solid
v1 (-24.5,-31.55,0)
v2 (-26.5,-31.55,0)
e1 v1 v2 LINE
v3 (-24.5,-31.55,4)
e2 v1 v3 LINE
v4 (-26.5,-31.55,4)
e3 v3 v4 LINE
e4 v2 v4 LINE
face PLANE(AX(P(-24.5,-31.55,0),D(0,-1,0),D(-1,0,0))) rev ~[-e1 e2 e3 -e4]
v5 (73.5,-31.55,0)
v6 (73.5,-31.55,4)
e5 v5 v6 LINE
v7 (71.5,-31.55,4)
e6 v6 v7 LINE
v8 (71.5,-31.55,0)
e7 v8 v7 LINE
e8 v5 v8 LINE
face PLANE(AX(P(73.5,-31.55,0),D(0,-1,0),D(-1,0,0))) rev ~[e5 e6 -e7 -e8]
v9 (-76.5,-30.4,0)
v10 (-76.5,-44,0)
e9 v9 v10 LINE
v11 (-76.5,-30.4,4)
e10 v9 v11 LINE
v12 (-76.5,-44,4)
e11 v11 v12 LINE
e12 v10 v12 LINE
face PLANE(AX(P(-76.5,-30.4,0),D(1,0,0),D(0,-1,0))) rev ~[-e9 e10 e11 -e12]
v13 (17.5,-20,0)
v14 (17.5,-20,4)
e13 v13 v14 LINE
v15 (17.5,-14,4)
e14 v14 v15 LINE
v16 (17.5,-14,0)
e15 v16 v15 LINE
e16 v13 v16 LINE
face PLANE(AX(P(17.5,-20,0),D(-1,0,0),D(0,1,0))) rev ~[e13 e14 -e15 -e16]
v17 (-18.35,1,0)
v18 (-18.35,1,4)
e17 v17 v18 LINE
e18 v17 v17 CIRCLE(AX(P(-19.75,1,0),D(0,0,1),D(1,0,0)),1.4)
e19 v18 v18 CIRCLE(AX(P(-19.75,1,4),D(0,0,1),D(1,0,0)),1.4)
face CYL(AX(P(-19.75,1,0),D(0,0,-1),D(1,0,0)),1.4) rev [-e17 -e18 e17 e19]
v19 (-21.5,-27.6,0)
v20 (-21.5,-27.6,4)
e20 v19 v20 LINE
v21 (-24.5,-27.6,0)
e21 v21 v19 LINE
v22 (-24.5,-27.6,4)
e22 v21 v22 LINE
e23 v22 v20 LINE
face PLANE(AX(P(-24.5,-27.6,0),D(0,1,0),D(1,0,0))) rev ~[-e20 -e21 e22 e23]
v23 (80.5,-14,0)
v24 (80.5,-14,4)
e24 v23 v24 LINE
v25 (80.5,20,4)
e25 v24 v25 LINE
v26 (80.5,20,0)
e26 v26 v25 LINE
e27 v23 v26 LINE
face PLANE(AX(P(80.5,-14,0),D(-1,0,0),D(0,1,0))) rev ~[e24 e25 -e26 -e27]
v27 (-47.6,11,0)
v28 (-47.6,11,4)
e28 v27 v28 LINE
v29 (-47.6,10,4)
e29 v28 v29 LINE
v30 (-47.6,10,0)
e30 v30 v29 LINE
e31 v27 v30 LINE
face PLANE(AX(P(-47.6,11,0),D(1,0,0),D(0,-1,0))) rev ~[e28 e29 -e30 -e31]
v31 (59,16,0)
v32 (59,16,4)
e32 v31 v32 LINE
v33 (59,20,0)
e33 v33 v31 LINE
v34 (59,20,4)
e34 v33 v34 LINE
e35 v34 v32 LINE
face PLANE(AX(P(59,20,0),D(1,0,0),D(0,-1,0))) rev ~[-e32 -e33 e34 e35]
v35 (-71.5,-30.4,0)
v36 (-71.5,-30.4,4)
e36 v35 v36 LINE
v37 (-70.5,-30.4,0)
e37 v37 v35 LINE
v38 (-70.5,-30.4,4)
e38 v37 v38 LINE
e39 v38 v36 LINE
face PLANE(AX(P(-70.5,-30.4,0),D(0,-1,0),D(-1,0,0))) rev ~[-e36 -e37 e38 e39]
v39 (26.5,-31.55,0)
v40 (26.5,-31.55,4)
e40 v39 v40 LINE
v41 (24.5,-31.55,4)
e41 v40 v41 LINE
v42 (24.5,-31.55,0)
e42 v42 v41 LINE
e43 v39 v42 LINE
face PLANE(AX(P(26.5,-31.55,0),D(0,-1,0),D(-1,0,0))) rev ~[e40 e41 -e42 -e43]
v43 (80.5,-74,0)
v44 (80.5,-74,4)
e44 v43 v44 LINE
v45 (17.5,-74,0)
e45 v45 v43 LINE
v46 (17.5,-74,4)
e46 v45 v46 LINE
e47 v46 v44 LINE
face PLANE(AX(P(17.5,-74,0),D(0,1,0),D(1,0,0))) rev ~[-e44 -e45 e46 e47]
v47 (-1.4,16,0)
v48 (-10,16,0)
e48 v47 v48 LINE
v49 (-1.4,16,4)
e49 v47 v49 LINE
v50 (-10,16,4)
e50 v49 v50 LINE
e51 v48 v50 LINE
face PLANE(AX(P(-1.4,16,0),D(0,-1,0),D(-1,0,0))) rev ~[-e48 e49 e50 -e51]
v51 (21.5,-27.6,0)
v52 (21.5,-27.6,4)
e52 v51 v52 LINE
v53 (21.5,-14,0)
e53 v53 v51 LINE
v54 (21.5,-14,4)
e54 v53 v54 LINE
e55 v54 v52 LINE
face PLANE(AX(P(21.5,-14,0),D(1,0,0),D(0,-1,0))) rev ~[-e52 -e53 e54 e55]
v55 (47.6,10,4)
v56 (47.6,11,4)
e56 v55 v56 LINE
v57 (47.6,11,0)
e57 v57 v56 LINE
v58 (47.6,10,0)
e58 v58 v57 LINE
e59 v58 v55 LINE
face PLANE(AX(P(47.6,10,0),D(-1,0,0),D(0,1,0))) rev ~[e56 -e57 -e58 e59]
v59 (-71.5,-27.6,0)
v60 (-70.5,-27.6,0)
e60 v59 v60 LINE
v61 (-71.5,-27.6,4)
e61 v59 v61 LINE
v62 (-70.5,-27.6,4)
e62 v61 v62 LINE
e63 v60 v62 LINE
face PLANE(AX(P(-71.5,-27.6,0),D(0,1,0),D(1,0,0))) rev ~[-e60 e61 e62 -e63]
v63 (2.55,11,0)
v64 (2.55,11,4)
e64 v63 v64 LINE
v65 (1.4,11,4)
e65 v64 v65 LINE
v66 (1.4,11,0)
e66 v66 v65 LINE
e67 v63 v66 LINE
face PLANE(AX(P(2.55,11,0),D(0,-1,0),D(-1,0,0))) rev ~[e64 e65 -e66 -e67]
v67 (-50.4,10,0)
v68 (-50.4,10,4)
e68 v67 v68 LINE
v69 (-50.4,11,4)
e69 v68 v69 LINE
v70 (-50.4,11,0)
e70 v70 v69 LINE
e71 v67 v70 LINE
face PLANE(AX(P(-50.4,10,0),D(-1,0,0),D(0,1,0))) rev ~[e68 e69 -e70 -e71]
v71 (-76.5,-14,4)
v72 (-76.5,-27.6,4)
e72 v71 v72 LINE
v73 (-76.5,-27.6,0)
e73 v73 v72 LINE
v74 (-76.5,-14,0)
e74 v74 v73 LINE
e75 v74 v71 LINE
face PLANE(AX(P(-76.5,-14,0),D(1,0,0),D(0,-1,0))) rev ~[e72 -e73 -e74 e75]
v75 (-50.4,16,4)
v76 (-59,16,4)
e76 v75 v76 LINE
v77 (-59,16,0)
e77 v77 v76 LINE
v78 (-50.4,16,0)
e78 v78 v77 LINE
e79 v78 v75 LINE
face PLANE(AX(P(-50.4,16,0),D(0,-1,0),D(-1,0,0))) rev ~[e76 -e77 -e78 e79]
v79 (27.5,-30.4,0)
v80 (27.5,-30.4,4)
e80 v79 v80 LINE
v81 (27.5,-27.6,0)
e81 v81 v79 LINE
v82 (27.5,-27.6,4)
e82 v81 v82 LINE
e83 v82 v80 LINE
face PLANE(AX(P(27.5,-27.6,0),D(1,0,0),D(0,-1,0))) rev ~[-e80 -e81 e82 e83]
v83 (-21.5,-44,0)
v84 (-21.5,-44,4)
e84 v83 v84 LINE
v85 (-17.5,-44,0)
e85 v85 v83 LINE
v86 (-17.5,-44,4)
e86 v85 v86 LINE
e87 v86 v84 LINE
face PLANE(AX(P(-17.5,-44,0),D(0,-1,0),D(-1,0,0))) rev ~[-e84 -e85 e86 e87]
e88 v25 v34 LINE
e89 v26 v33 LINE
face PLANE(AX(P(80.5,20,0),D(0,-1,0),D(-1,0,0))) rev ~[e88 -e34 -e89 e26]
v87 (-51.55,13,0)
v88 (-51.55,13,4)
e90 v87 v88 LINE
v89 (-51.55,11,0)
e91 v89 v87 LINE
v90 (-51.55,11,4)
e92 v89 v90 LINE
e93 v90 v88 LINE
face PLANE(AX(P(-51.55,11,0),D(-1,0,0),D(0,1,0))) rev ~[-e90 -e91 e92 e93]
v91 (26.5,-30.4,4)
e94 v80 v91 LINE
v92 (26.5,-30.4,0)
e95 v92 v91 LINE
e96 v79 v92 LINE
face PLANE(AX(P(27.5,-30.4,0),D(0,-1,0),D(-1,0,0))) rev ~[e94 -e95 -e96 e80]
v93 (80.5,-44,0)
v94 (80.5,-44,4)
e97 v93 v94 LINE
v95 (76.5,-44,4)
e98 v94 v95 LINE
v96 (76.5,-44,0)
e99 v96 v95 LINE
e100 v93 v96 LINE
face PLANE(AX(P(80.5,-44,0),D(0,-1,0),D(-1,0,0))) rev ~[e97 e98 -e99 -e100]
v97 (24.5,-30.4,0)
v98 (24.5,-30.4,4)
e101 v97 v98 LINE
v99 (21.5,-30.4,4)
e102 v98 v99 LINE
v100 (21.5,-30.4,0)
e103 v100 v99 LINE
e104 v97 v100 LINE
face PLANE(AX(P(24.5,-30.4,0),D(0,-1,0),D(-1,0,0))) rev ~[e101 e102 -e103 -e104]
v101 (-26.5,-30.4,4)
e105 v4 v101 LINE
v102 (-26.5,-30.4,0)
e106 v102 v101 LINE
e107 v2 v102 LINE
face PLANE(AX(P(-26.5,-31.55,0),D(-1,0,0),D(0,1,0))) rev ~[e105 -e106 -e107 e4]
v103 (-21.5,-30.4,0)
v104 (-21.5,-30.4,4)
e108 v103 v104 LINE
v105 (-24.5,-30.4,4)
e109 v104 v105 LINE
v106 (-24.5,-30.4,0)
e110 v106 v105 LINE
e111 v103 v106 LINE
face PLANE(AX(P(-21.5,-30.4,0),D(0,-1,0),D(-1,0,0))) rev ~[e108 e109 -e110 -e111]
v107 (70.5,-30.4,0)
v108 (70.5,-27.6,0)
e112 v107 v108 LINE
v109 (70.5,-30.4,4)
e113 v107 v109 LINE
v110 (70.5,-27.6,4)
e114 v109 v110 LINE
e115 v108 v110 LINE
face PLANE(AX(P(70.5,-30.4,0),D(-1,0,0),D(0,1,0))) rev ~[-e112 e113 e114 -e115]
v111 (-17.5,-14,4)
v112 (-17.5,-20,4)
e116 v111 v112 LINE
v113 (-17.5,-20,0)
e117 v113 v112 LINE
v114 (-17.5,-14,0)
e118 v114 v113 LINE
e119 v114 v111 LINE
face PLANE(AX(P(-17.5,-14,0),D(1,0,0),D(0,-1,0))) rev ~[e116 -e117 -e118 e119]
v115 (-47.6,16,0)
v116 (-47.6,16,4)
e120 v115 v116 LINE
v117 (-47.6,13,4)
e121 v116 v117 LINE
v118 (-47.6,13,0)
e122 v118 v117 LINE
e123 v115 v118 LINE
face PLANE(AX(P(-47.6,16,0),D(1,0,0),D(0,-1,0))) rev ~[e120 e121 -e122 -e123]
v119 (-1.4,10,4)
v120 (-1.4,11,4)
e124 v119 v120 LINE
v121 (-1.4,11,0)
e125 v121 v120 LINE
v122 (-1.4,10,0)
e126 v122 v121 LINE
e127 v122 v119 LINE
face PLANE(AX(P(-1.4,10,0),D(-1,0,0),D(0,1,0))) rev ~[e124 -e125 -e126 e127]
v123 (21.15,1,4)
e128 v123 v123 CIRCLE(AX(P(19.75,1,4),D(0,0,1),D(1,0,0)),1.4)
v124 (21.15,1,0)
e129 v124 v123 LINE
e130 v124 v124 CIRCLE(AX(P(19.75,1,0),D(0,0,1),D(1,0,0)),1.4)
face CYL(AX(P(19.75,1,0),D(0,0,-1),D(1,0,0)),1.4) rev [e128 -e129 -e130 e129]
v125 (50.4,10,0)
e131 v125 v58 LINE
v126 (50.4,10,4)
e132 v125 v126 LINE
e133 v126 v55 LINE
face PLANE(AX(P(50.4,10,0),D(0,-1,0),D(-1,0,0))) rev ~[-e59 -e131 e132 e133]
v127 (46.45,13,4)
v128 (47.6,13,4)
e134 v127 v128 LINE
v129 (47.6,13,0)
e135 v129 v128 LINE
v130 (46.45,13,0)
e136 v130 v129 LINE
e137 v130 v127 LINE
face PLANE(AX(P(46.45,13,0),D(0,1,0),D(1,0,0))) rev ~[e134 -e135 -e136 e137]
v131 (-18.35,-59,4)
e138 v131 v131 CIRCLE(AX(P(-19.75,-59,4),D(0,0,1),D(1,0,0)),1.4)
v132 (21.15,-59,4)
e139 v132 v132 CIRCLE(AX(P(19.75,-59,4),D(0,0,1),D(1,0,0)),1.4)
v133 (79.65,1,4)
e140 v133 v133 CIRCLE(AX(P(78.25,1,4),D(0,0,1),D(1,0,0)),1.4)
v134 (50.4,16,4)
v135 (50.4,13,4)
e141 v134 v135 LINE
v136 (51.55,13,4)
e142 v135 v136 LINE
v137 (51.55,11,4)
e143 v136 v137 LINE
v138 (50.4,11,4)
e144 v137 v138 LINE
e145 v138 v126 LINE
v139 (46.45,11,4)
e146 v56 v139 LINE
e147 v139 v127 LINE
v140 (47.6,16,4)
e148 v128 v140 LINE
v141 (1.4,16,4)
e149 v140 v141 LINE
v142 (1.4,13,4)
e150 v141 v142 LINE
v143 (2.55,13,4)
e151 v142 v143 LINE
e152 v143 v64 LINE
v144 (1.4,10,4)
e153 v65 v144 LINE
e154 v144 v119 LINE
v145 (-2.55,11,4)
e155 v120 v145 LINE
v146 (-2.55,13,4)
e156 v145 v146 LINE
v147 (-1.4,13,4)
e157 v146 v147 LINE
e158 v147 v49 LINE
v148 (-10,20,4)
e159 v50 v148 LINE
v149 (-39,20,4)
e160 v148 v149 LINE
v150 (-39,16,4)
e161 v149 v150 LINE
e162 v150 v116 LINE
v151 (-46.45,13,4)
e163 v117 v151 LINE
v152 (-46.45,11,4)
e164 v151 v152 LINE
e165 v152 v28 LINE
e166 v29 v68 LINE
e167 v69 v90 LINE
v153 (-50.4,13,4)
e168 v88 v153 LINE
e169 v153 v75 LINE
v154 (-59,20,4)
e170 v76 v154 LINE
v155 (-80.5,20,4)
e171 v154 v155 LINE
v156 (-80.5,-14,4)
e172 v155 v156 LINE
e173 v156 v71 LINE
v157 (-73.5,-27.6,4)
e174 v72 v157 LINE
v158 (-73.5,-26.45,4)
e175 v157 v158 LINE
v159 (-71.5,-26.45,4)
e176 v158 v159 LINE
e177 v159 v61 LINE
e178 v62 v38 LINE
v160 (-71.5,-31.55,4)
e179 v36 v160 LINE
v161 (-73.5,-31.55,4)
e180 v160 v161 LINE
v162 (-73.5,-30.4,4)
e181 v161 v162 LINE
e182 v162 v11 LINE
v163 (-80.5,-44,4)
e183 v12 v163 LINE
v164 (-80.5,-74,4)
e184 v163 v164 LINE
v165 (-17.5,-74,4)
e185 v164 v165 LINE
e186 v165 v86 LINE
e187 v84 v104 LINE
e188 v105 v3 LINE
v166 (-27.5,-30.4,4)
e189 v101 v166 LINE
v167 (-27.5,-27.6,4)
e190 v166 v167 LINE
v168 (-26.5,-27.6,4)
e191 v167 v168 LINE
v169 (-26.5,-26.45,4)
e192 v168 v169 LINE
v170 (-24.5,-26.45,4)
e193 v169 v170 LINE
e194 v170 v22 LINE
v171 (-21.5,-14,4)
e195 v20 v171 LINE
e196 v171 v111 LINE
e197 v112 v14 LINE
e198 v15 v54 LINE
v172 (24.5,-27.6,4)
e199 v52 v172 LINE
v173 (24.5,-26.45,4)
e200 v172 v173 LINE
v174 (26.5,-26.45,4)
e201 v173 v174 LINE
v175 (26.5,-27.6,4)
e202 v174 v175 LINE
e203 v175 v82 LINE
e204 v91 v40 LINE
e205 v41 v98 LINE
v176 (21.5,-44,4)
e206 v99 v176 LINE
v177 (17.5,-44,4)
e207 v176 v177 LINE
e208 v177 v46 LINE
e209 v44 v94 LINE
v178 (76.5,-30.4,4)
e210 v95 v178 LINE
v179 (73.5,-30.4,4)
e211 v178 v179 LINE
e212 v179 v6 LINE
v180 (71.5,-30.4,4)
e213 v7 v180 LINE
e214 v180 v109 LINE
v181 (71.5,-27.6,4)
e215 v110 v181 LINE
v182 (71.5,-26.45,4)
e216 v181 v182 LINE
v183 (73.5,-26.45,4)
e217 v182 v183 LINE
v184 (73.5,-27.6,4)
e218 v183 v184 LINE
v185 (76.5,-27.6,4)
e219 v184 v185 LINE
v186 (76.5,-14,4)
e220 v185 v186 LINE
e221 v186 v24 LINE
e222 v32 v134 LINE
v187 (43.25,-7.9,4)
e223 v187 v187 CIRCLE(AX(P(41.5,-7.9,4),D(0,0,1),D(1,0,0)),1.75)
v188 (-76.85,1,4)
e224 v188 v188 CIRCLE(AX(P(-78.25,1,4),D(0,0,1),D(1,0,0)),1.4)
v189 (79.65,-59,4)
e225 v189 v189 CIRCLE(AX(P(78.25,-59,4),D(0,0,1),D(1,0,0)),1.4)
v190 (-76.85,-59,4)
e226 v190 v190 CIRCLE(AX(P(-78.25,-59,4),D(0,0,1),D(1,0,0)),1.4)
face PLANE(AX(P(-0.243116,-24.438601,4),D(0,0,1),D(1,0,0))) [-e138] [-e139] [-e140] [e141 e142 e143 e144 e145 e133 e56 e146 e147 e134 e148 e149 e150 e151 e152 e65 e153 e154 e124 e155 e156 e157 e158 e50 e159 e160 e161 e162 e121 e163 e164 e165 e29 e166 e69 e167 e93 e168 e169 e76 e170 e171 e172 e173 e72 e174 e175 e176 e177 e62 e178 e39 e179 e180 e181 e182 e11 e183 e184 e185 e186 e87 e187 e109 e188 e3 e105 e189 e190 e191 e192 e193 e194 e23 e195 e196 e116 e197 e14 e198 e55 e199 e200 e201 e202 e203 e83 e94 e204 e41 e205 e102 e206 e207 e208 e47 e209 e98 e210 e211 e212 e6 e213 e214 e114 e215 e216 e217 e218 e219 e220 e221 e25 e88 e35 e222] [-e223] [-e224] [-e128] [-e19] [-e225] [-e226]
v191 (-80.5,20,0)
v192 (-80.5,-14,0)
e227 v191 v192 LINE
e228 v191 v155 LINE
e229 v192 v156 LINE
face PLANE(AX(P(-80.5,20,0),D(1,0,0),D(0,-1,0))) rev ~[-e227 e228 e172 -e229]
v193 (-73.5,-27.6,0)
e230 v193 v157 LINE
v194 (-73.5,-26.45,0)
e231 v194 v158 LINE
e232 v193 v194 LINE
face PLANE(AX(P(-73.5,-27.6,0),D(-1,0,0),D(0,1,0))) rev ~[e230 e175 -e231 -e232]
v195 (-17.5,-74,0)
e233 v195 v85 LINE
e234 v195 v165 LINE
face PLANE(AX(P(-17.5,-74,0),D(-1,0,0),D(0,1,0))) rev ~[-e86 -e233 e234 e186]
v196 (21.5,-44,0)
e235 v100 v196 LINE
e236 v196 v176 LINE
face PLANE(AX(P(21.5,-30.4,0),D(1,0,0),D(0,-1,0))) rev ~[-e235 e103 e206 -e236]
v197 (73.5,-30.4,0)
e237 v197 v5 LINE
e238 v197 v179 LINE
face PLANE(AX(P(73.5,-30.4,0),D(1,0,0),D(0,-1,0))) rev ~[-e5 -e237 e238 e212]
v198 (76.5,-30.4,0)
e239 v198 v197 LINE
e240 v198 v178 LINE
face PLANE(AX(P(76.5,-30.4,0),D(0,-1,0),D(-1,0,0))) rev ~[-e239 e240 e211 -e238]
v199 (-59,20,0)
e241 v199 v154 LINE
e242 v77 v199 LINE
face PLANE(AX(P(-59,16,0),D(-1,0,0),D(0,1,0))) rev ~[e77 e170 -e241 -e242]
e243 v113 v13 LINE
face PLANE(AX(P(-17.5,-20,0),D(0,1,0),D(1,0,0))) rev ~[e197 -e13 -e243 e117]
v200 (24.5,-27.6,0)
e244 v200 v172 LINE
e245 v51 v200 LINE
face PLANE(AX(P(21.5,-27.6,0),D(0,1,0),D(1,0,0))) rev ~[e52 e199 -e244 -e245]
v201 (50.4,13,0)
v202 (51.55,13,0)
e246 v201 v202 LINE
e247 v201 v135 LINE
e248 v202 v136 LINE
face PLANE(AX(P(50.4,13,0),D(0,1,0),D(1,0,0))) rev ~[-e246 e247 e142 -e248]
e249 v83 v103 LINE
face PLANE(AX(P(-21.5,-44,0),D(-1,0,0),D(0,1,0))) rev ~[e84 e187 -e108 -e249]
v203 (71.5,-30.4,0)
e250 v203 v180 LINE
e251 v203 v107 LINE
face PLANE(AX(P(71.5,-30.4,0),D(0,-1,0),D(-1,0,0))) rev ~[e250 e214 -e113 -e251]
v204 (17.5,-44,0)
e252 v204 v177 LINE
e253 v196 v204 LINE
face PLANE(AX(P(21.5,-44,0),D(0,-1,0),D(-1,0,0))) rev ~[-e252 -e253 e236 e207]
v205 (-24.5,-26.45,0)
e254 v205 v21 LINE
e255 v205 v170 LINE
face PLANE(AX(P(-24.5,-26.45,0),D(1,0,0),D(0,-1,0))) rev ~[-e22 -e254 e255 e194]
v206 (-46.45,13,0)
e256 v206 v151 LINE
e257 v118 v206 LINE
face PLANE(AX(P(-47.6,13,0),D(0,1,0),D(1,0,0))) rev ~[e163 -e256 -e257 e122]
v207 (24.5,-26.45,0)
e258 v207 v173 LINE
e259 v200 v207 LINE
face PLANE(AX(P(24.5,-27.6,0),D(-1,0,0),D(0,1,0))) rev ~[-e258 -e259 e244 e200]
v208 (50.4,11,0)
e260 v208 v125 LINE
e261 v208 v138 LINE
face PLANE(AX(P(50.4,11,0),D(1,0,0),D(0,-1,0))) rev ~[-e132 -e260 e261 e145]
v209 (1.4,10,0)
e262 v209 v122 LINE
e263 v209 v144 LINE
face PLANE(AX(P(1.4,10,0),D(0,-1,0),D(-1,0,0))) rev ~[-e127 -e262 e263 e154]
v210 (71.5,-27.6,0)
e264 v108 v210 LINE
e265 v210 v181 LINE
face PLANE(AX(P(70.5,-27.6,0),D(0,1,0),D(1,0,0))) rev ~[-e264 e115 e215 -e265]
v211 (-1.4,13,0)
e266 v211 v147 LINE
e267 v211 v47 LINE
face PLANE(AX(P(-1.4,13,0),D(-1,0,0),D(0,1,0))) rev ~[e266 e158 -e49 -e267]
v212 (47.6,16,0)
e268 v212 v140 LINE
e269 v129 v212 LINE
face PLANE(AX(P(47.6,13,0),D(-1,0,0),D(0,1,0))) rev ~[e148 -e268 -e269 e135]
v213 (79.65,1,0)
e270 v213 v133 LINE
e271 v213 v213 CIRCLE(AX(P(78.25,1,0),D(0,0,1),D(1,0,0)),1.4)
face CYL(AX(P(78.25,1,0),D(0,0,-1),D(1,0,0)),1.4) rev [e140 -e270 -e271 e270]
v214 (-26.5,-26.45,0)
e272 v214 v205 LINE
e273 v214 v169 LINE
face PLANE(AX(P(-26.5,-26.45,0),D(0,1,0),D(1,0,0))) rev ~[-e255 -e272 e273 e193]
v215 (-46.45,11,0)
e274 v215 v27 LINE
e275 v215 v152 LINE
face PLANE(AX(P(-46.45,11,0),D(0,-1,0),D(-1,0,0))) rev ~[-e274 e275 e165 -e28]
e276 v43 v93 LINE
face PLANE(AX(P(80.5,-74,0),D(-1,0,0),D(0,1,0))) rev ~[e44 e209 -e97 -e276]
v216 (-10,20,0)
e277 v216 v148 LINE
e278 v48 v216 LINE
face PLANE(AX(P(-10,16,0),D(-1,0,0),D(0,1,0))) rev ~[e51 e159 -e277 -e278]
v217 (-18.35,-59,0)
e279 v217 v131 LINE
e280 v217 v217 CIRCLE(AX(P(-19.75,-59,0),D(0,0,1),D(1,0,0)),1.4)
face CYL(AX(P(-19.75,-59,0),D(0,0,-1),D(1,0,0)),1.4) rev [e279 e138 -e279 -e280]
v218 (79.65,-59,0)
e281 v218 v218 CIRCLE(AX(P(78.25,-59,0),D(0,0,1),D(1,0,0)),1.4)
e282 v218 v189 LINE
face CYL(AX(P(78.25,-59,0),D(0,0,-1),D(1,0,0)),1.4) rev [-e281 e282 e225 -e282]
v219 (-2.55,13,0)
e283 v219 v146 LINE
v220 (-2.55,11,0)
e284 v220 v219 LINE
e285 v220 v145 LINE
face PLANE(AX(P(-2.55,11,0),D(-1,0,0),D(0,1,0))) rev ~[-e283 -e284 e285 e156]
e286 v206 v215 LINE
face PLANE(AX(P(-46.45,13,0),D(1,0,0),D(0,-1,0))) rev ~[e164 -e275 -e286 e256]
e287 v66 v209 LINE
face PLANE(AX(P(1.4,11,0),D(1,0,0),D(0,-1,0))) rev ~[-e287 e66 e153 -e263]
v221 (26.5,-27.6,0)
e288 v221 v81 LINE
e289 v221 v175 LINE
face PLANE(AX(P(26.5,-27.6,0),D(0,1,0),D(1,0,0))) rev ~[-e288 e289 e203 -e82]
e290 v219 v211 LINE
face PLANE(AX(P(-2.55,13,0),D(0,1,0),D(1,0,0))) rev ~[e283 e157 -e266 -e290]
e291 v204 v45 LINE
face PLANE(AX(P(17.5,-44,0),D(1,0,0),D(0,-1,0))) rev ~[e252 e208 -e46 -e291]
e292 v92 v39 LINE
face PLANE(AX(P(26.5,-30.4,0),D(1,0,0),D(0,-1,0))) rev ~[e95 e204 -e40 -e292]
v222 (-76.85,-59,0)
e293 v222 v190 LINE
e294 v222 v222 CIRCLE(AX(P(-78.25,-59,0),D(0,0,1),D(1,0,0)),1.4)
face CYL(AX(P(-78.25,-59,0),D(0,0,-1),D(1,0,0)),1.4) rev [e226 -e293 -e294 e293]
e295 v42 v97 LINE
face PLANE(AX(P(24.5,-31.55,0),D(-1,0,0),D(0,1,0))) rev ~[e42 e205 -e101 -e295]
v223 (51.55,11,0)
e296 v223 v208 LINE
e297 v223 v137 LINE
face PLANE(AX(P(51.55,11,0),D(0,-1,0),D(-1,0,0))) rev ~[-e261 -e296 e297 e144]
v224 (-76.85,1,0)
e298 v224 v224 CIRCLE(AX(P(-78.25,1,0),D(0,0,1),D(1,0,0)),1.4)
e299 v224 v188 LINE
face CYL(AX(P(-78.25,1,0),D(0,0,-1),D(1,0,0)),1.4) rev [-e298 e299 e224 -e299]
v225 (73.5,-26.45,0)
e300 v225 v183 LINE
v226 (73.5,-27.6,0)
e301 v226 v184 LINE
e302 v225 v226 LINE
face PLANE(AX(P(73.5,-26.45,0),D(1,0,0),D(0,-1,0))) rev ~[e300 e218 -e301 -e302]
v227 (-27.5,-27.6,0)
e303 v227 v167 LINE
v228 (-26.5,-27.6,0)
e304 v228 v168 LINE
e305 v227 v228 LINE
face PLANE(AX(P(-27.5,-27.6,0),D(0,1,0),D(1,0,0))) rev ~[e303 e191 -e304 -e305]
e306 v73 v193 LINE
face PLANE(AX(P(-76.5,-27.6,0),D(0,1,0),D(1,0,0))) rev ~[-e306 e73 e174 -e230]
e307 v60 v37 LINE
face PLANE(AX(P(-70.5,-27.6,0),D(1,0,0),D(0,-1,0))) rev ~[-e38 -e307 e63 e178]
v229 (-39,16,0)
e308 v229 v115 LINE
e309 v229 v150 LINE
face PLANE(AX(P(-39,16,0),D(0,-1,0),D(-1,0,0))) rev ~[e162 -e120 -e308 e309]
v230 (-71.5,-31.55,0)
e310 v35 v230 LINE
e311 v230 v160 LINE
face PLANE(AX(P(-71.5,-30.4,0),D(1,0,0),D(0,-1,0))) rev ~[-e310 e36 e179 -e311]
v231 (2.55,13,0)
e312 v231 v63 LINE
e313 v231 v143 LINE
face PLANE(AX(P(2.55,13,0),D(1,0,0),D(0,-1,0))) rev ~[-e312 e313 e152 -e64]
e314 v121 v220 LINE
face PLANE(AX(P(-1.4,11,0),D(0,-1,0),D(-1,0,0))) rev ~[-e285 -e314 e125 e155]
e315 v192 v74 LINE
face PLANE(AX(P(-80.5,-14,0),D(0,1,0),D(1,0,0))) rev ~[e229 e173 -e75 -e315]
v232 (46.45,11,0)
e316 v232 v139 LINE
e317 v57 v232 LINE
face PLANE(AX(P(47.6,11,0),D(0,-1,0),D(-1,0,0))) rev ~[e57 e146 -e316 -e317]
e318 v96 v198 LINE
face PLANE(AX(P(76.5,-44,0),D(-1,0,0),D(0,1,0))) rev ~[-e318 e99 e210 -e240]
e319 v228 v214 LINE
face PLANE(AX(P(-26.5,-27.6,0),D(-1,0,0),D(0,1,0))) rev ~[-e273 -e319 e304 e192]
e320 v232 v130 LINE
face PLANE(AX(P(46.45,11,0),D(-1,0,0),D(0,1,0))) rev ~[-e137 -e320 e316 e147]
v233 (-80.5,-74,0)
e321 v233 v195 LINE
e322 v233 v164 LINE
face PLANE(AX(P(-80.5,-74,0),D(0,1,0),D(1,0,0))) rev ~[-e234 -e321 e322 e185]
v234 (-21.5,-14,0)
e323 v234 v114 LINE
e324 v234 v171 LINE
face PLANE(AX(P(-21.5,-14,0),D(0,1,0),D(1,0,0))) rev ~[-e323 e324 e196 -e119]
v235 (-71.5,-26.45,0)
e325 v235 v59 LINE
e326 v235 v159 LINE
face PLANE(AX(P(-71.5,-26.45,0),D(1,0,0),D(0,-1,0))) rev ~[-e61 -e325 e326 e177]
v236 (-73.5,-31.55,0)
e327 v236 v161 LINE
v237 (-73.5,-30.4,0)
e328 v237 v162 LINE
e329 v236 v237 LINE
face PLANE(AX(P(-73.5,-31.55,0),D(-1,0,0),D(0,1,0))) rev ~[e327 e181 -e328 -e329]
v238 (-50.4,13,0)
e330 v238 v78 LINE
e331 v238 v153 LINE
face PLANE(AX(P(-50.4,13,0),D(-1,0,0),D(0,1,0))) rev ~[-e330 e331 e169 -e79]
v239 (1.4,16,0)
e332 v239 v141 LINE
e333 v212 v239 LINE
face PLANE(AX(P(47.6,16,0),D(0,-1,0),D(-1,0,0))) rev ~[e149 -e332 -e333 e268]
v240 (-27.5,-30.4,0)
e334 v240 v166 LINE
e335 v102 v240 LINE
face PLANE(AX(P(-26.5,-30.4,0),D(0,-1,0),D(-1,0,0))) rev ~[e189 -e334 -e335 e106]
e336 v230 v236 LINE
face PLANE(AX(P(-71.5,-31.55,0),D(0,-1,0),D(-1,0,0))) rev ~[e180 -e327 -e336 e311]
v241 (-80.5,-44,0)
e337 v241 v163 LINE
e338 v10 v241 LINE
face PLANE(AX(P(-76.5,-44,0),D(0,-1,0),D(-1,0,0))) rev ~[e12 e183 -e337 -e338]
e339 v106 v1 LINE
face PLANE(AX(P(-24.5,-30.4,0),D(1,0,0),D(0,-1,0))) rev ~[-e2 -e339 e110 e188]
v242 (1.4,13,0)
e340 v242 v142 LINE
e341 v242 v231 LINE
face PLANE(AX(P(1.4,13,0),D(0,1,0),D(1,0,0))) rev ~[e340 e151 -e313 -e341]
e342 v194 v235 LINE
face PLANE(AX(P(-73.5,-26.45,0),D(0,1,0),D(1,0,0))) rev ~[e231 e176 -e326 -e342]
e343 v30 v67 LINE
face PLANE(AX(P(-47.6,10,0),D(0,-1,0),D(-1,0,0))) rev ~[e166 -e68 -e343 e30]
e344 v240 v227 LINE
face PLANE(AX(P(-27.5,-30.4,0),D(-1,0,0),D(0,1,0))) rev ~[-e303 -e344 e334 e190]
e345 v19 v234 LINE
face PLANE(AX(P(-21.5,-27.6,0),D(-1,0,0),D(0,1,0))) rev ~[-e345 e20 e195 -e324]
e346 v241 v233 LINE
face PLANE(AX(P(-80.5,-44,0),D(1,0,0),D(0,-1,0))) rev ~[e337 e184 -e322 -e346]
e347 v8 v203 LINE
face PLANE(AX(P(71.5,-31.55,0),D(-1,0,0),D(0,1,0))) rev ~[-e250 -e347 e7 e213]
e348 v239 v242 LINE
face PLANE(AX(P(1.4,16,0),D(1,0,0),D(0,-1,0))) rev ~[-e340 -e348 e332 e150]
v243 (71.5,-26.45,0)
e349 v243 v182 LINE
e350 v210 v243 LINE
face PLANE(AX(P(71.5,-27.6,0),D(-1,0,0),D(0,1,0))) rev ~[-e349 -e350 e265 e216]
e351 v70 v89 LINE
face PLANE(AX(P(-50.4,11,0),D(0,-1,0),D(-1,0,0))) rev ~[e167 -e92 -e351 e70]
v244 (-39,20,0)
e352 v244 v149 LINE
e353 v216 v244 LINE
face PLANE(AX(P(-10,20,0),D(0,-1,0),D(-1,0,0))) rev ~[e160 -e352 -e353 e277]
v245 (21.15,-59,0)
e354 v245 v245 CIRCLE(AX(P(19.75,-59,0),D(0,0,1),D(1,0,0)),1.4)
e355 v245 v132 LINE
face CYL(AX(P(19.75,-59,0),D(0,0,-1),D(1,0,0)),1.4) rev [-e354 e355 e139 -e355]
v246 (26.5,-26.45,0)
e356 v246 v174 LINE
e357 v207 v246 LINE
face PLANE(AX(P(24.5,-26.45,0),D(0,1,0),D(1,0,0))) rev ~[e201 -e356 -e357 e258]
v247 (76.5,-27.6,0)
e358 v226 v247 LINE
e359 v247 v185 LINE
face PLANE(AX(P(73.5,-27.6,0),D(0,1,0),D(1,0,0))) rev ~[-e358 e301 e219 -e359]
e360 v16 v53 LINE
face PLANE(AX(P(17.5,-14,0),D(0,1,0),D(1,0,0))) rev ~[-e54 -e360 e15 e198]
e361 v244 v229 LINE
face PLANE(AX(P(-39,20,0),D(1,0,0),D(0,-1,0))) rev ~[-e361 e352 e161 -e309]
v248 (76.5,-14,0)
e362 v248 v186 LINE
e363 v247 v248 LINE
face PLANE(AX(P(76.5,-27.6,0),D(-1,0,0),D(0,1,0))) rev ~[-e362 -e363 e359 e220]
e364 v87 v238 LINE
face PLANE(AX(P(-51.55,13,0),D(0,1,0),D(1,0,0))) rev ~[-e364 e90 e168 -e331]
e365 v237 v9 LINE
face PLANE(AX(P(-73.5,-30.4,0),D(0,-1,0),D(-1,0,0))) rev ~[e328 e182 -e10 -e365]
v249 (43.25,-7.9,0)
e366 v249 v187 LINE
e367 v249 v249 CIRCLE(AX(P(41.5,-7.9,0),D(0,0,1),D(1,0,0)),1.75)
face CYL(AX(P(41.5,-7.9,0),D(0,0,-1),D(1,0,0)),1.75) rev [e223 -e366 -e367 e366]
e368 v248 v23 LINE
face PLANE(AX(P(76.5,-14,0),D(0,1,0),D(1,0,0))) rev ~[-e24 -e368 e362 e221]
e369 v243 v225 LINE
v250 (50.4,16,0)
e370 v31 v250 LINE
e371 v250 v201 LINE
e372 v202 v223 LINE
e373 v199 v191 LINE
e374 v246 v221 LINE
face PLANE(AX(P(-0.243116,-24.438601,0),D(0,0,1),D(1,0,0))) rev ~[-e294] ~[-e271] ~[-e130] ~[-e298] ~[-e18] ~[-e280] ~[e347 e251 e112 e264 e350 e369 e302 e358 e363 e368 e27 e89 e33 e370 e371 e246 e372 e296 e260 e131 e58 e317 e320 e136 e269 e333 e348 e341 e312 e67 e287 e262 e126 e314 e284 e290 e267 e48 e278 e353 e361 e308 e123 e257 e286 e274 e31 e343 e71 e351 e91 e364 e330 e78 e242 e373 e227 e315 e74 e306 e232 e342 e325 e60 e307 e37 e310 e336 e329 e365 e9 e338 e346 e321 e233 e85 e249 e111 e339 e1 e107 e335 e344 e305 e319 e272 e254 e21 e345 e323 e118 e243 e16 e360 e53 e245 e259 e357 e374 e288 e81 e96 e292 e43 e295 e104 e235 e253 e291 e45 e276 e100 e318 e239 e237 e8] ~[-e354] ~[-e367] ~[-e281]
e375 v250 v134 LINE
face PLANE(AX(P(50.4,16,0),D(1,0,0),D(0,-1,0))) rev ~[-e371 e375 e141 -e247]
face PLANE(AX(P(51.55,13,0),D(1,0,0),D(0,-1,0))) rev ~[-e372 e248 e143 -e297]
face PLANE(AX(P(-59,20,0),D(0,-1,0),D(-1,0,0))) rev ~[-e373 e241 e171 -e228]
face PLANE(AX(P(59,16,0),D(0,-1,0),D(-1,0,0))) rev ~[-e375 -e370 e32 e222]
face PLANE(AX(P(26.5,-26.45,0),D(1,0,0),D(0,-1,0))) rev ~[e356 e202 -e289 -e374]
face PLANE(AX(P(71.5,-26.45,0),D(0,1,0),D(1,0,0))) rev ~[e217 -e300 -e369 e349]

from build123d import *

# Parameters (mm, degrees)
SKETCH_1_R      = 1.4
SKETCH_1_R_2    = 1.75
EXTRUDE_1_DEPTH = 4


with BuildPart() as part:
    # Эскиз1 → Бобышка-Вытянуть1 (new body)
    with BuildSketch(Plane.XY):
        Polygon((-17.5, -14), (-17.5, -20), (17.5, -20), (17.5, -14), (21.5, -14), (21.5, -27.6), (24.5, -27.6), (24.5, -26.45), (26.5, -26.45), (26.5, -27.6), (27.5, -27.6), (27.5, -30.4), (26.5, -30.4), (26.5, -31.55), (24.5, -31.55), (24.5, -30.4), (21.5, -30.4), (21.5, -44), (17.5, -44), (17.5, -74), (80.5, -74), (80.5, -44), (76.5, -44), (76.5, -30.4), (73.5, -30.4), (73.5, -31.55), (71.5, -31.55), (71.5, -30.4), (70.5, -30.4), (70.5, -27.6), (71.5, -27.6), (71.5, -26.45), (73.5, -26.45), (73.5, -27.6), (76.5, -27.6), (76.5, -14), (80.5, -14), (80.5, 20), (59, 20), (59, 16), (50.4, 16), (50.4, 13), (51.55, 13), (51.55, 11), (50.4, 11), (50.4, 10), (47.6, 10), (47.6, 11), (46.45, 11), (46.45, 13), (47.6, 13), (47.6, 16), (1.4, 16), (1.4, 13), (2.55, 13), (2.55, 11), (1.4, 11), (1.4, 10), (-1.4, 10), (-1.4, 11), (-2.55, 11), (-2.55, 13), (-1.4, 13), (-1.4, 16), (-10, 16), (-10, 20), (-39, 20), (-39, 16), (-47.6, 16), (-47.6, 13), (-46.45, 13), (-46.45, 11), (-47.6, 11), (-47.6, 10), (-50.4, 10), (-50.4, 11), (-51.55, 11), (-51.55, 13), (-50.4, 13), (-50.4, 16), (-59, 16), (-59, 20), (-80.5, 20), (-80.5, -14), (-76.5, -14), (-76.5, -27.6), (-73.5, -27.6), (-73.5, -26.45), (-71.5, -26.45), (-71.5, -27.6), (-70.5, -27.6), (-70.5, -30.4), (-71.5, -30.4), (-71.5, -31.55), (-73.5, -31.55), (-73.5, -30.4), (-76.5, -30.4), (-76.5, -44), (-80.5, -44), (-80.5, -74), (-17.5, -74), (-17.5, -44), (-21.5, -44), (-21.5, -30.4), (-24.5, -30.4), (-24.5, -31.55), (-26.5, -31.55), (-26.5, -30.4), (-27.5, -30.4), (-27.5, -27.6), (-26.5, -27.6), (-26.5, -26.45), (-24.5, -26.45), (-24.5, -27.6), (-21.5, -27.6), (-21.5, -14), align=None)
        with Locations((-19.75, 1)):
            Circle(SKETCH_1_R, mode=Mode.SUBTRACT)
        with Locations((-78.25, -59)):
            Circle(SKETCH_1_R, mode=Mode.SUBTRACT)
        with Locations((-19.75, -59)):
            Circle(SKETCH_1_R, mode=Mode.SUBTRACT)
        with Locations((-78.25, 1)):
            Circle(SKETCH_1_R, mode=Mode.SUBTRACT)
        with Locations((78.25, 1)):
            Circle(SKETCH_1_R, mode=Mode.SUBTRACT)
        with Locations((19.75, -59)):
            Circle(SKETCH_1_R, mode=Mode.SUBTRACT)
        with Locations((78.25, -59)):
            Circle(SKETCH_1_R, mode=Mode.SUBTRACT)
        with Locations((41.5, -7.9)):
            Circle(SKETCH_1_R_2, mode=Mode.SUBTRACT)
        with Locations((19.75, 1)):
            Circle(SKETCH_1_R, mode=Mode.SUBTRACT)
    extrude(amount=EXTRUDE_1_DEPTH)


solid = part.part
